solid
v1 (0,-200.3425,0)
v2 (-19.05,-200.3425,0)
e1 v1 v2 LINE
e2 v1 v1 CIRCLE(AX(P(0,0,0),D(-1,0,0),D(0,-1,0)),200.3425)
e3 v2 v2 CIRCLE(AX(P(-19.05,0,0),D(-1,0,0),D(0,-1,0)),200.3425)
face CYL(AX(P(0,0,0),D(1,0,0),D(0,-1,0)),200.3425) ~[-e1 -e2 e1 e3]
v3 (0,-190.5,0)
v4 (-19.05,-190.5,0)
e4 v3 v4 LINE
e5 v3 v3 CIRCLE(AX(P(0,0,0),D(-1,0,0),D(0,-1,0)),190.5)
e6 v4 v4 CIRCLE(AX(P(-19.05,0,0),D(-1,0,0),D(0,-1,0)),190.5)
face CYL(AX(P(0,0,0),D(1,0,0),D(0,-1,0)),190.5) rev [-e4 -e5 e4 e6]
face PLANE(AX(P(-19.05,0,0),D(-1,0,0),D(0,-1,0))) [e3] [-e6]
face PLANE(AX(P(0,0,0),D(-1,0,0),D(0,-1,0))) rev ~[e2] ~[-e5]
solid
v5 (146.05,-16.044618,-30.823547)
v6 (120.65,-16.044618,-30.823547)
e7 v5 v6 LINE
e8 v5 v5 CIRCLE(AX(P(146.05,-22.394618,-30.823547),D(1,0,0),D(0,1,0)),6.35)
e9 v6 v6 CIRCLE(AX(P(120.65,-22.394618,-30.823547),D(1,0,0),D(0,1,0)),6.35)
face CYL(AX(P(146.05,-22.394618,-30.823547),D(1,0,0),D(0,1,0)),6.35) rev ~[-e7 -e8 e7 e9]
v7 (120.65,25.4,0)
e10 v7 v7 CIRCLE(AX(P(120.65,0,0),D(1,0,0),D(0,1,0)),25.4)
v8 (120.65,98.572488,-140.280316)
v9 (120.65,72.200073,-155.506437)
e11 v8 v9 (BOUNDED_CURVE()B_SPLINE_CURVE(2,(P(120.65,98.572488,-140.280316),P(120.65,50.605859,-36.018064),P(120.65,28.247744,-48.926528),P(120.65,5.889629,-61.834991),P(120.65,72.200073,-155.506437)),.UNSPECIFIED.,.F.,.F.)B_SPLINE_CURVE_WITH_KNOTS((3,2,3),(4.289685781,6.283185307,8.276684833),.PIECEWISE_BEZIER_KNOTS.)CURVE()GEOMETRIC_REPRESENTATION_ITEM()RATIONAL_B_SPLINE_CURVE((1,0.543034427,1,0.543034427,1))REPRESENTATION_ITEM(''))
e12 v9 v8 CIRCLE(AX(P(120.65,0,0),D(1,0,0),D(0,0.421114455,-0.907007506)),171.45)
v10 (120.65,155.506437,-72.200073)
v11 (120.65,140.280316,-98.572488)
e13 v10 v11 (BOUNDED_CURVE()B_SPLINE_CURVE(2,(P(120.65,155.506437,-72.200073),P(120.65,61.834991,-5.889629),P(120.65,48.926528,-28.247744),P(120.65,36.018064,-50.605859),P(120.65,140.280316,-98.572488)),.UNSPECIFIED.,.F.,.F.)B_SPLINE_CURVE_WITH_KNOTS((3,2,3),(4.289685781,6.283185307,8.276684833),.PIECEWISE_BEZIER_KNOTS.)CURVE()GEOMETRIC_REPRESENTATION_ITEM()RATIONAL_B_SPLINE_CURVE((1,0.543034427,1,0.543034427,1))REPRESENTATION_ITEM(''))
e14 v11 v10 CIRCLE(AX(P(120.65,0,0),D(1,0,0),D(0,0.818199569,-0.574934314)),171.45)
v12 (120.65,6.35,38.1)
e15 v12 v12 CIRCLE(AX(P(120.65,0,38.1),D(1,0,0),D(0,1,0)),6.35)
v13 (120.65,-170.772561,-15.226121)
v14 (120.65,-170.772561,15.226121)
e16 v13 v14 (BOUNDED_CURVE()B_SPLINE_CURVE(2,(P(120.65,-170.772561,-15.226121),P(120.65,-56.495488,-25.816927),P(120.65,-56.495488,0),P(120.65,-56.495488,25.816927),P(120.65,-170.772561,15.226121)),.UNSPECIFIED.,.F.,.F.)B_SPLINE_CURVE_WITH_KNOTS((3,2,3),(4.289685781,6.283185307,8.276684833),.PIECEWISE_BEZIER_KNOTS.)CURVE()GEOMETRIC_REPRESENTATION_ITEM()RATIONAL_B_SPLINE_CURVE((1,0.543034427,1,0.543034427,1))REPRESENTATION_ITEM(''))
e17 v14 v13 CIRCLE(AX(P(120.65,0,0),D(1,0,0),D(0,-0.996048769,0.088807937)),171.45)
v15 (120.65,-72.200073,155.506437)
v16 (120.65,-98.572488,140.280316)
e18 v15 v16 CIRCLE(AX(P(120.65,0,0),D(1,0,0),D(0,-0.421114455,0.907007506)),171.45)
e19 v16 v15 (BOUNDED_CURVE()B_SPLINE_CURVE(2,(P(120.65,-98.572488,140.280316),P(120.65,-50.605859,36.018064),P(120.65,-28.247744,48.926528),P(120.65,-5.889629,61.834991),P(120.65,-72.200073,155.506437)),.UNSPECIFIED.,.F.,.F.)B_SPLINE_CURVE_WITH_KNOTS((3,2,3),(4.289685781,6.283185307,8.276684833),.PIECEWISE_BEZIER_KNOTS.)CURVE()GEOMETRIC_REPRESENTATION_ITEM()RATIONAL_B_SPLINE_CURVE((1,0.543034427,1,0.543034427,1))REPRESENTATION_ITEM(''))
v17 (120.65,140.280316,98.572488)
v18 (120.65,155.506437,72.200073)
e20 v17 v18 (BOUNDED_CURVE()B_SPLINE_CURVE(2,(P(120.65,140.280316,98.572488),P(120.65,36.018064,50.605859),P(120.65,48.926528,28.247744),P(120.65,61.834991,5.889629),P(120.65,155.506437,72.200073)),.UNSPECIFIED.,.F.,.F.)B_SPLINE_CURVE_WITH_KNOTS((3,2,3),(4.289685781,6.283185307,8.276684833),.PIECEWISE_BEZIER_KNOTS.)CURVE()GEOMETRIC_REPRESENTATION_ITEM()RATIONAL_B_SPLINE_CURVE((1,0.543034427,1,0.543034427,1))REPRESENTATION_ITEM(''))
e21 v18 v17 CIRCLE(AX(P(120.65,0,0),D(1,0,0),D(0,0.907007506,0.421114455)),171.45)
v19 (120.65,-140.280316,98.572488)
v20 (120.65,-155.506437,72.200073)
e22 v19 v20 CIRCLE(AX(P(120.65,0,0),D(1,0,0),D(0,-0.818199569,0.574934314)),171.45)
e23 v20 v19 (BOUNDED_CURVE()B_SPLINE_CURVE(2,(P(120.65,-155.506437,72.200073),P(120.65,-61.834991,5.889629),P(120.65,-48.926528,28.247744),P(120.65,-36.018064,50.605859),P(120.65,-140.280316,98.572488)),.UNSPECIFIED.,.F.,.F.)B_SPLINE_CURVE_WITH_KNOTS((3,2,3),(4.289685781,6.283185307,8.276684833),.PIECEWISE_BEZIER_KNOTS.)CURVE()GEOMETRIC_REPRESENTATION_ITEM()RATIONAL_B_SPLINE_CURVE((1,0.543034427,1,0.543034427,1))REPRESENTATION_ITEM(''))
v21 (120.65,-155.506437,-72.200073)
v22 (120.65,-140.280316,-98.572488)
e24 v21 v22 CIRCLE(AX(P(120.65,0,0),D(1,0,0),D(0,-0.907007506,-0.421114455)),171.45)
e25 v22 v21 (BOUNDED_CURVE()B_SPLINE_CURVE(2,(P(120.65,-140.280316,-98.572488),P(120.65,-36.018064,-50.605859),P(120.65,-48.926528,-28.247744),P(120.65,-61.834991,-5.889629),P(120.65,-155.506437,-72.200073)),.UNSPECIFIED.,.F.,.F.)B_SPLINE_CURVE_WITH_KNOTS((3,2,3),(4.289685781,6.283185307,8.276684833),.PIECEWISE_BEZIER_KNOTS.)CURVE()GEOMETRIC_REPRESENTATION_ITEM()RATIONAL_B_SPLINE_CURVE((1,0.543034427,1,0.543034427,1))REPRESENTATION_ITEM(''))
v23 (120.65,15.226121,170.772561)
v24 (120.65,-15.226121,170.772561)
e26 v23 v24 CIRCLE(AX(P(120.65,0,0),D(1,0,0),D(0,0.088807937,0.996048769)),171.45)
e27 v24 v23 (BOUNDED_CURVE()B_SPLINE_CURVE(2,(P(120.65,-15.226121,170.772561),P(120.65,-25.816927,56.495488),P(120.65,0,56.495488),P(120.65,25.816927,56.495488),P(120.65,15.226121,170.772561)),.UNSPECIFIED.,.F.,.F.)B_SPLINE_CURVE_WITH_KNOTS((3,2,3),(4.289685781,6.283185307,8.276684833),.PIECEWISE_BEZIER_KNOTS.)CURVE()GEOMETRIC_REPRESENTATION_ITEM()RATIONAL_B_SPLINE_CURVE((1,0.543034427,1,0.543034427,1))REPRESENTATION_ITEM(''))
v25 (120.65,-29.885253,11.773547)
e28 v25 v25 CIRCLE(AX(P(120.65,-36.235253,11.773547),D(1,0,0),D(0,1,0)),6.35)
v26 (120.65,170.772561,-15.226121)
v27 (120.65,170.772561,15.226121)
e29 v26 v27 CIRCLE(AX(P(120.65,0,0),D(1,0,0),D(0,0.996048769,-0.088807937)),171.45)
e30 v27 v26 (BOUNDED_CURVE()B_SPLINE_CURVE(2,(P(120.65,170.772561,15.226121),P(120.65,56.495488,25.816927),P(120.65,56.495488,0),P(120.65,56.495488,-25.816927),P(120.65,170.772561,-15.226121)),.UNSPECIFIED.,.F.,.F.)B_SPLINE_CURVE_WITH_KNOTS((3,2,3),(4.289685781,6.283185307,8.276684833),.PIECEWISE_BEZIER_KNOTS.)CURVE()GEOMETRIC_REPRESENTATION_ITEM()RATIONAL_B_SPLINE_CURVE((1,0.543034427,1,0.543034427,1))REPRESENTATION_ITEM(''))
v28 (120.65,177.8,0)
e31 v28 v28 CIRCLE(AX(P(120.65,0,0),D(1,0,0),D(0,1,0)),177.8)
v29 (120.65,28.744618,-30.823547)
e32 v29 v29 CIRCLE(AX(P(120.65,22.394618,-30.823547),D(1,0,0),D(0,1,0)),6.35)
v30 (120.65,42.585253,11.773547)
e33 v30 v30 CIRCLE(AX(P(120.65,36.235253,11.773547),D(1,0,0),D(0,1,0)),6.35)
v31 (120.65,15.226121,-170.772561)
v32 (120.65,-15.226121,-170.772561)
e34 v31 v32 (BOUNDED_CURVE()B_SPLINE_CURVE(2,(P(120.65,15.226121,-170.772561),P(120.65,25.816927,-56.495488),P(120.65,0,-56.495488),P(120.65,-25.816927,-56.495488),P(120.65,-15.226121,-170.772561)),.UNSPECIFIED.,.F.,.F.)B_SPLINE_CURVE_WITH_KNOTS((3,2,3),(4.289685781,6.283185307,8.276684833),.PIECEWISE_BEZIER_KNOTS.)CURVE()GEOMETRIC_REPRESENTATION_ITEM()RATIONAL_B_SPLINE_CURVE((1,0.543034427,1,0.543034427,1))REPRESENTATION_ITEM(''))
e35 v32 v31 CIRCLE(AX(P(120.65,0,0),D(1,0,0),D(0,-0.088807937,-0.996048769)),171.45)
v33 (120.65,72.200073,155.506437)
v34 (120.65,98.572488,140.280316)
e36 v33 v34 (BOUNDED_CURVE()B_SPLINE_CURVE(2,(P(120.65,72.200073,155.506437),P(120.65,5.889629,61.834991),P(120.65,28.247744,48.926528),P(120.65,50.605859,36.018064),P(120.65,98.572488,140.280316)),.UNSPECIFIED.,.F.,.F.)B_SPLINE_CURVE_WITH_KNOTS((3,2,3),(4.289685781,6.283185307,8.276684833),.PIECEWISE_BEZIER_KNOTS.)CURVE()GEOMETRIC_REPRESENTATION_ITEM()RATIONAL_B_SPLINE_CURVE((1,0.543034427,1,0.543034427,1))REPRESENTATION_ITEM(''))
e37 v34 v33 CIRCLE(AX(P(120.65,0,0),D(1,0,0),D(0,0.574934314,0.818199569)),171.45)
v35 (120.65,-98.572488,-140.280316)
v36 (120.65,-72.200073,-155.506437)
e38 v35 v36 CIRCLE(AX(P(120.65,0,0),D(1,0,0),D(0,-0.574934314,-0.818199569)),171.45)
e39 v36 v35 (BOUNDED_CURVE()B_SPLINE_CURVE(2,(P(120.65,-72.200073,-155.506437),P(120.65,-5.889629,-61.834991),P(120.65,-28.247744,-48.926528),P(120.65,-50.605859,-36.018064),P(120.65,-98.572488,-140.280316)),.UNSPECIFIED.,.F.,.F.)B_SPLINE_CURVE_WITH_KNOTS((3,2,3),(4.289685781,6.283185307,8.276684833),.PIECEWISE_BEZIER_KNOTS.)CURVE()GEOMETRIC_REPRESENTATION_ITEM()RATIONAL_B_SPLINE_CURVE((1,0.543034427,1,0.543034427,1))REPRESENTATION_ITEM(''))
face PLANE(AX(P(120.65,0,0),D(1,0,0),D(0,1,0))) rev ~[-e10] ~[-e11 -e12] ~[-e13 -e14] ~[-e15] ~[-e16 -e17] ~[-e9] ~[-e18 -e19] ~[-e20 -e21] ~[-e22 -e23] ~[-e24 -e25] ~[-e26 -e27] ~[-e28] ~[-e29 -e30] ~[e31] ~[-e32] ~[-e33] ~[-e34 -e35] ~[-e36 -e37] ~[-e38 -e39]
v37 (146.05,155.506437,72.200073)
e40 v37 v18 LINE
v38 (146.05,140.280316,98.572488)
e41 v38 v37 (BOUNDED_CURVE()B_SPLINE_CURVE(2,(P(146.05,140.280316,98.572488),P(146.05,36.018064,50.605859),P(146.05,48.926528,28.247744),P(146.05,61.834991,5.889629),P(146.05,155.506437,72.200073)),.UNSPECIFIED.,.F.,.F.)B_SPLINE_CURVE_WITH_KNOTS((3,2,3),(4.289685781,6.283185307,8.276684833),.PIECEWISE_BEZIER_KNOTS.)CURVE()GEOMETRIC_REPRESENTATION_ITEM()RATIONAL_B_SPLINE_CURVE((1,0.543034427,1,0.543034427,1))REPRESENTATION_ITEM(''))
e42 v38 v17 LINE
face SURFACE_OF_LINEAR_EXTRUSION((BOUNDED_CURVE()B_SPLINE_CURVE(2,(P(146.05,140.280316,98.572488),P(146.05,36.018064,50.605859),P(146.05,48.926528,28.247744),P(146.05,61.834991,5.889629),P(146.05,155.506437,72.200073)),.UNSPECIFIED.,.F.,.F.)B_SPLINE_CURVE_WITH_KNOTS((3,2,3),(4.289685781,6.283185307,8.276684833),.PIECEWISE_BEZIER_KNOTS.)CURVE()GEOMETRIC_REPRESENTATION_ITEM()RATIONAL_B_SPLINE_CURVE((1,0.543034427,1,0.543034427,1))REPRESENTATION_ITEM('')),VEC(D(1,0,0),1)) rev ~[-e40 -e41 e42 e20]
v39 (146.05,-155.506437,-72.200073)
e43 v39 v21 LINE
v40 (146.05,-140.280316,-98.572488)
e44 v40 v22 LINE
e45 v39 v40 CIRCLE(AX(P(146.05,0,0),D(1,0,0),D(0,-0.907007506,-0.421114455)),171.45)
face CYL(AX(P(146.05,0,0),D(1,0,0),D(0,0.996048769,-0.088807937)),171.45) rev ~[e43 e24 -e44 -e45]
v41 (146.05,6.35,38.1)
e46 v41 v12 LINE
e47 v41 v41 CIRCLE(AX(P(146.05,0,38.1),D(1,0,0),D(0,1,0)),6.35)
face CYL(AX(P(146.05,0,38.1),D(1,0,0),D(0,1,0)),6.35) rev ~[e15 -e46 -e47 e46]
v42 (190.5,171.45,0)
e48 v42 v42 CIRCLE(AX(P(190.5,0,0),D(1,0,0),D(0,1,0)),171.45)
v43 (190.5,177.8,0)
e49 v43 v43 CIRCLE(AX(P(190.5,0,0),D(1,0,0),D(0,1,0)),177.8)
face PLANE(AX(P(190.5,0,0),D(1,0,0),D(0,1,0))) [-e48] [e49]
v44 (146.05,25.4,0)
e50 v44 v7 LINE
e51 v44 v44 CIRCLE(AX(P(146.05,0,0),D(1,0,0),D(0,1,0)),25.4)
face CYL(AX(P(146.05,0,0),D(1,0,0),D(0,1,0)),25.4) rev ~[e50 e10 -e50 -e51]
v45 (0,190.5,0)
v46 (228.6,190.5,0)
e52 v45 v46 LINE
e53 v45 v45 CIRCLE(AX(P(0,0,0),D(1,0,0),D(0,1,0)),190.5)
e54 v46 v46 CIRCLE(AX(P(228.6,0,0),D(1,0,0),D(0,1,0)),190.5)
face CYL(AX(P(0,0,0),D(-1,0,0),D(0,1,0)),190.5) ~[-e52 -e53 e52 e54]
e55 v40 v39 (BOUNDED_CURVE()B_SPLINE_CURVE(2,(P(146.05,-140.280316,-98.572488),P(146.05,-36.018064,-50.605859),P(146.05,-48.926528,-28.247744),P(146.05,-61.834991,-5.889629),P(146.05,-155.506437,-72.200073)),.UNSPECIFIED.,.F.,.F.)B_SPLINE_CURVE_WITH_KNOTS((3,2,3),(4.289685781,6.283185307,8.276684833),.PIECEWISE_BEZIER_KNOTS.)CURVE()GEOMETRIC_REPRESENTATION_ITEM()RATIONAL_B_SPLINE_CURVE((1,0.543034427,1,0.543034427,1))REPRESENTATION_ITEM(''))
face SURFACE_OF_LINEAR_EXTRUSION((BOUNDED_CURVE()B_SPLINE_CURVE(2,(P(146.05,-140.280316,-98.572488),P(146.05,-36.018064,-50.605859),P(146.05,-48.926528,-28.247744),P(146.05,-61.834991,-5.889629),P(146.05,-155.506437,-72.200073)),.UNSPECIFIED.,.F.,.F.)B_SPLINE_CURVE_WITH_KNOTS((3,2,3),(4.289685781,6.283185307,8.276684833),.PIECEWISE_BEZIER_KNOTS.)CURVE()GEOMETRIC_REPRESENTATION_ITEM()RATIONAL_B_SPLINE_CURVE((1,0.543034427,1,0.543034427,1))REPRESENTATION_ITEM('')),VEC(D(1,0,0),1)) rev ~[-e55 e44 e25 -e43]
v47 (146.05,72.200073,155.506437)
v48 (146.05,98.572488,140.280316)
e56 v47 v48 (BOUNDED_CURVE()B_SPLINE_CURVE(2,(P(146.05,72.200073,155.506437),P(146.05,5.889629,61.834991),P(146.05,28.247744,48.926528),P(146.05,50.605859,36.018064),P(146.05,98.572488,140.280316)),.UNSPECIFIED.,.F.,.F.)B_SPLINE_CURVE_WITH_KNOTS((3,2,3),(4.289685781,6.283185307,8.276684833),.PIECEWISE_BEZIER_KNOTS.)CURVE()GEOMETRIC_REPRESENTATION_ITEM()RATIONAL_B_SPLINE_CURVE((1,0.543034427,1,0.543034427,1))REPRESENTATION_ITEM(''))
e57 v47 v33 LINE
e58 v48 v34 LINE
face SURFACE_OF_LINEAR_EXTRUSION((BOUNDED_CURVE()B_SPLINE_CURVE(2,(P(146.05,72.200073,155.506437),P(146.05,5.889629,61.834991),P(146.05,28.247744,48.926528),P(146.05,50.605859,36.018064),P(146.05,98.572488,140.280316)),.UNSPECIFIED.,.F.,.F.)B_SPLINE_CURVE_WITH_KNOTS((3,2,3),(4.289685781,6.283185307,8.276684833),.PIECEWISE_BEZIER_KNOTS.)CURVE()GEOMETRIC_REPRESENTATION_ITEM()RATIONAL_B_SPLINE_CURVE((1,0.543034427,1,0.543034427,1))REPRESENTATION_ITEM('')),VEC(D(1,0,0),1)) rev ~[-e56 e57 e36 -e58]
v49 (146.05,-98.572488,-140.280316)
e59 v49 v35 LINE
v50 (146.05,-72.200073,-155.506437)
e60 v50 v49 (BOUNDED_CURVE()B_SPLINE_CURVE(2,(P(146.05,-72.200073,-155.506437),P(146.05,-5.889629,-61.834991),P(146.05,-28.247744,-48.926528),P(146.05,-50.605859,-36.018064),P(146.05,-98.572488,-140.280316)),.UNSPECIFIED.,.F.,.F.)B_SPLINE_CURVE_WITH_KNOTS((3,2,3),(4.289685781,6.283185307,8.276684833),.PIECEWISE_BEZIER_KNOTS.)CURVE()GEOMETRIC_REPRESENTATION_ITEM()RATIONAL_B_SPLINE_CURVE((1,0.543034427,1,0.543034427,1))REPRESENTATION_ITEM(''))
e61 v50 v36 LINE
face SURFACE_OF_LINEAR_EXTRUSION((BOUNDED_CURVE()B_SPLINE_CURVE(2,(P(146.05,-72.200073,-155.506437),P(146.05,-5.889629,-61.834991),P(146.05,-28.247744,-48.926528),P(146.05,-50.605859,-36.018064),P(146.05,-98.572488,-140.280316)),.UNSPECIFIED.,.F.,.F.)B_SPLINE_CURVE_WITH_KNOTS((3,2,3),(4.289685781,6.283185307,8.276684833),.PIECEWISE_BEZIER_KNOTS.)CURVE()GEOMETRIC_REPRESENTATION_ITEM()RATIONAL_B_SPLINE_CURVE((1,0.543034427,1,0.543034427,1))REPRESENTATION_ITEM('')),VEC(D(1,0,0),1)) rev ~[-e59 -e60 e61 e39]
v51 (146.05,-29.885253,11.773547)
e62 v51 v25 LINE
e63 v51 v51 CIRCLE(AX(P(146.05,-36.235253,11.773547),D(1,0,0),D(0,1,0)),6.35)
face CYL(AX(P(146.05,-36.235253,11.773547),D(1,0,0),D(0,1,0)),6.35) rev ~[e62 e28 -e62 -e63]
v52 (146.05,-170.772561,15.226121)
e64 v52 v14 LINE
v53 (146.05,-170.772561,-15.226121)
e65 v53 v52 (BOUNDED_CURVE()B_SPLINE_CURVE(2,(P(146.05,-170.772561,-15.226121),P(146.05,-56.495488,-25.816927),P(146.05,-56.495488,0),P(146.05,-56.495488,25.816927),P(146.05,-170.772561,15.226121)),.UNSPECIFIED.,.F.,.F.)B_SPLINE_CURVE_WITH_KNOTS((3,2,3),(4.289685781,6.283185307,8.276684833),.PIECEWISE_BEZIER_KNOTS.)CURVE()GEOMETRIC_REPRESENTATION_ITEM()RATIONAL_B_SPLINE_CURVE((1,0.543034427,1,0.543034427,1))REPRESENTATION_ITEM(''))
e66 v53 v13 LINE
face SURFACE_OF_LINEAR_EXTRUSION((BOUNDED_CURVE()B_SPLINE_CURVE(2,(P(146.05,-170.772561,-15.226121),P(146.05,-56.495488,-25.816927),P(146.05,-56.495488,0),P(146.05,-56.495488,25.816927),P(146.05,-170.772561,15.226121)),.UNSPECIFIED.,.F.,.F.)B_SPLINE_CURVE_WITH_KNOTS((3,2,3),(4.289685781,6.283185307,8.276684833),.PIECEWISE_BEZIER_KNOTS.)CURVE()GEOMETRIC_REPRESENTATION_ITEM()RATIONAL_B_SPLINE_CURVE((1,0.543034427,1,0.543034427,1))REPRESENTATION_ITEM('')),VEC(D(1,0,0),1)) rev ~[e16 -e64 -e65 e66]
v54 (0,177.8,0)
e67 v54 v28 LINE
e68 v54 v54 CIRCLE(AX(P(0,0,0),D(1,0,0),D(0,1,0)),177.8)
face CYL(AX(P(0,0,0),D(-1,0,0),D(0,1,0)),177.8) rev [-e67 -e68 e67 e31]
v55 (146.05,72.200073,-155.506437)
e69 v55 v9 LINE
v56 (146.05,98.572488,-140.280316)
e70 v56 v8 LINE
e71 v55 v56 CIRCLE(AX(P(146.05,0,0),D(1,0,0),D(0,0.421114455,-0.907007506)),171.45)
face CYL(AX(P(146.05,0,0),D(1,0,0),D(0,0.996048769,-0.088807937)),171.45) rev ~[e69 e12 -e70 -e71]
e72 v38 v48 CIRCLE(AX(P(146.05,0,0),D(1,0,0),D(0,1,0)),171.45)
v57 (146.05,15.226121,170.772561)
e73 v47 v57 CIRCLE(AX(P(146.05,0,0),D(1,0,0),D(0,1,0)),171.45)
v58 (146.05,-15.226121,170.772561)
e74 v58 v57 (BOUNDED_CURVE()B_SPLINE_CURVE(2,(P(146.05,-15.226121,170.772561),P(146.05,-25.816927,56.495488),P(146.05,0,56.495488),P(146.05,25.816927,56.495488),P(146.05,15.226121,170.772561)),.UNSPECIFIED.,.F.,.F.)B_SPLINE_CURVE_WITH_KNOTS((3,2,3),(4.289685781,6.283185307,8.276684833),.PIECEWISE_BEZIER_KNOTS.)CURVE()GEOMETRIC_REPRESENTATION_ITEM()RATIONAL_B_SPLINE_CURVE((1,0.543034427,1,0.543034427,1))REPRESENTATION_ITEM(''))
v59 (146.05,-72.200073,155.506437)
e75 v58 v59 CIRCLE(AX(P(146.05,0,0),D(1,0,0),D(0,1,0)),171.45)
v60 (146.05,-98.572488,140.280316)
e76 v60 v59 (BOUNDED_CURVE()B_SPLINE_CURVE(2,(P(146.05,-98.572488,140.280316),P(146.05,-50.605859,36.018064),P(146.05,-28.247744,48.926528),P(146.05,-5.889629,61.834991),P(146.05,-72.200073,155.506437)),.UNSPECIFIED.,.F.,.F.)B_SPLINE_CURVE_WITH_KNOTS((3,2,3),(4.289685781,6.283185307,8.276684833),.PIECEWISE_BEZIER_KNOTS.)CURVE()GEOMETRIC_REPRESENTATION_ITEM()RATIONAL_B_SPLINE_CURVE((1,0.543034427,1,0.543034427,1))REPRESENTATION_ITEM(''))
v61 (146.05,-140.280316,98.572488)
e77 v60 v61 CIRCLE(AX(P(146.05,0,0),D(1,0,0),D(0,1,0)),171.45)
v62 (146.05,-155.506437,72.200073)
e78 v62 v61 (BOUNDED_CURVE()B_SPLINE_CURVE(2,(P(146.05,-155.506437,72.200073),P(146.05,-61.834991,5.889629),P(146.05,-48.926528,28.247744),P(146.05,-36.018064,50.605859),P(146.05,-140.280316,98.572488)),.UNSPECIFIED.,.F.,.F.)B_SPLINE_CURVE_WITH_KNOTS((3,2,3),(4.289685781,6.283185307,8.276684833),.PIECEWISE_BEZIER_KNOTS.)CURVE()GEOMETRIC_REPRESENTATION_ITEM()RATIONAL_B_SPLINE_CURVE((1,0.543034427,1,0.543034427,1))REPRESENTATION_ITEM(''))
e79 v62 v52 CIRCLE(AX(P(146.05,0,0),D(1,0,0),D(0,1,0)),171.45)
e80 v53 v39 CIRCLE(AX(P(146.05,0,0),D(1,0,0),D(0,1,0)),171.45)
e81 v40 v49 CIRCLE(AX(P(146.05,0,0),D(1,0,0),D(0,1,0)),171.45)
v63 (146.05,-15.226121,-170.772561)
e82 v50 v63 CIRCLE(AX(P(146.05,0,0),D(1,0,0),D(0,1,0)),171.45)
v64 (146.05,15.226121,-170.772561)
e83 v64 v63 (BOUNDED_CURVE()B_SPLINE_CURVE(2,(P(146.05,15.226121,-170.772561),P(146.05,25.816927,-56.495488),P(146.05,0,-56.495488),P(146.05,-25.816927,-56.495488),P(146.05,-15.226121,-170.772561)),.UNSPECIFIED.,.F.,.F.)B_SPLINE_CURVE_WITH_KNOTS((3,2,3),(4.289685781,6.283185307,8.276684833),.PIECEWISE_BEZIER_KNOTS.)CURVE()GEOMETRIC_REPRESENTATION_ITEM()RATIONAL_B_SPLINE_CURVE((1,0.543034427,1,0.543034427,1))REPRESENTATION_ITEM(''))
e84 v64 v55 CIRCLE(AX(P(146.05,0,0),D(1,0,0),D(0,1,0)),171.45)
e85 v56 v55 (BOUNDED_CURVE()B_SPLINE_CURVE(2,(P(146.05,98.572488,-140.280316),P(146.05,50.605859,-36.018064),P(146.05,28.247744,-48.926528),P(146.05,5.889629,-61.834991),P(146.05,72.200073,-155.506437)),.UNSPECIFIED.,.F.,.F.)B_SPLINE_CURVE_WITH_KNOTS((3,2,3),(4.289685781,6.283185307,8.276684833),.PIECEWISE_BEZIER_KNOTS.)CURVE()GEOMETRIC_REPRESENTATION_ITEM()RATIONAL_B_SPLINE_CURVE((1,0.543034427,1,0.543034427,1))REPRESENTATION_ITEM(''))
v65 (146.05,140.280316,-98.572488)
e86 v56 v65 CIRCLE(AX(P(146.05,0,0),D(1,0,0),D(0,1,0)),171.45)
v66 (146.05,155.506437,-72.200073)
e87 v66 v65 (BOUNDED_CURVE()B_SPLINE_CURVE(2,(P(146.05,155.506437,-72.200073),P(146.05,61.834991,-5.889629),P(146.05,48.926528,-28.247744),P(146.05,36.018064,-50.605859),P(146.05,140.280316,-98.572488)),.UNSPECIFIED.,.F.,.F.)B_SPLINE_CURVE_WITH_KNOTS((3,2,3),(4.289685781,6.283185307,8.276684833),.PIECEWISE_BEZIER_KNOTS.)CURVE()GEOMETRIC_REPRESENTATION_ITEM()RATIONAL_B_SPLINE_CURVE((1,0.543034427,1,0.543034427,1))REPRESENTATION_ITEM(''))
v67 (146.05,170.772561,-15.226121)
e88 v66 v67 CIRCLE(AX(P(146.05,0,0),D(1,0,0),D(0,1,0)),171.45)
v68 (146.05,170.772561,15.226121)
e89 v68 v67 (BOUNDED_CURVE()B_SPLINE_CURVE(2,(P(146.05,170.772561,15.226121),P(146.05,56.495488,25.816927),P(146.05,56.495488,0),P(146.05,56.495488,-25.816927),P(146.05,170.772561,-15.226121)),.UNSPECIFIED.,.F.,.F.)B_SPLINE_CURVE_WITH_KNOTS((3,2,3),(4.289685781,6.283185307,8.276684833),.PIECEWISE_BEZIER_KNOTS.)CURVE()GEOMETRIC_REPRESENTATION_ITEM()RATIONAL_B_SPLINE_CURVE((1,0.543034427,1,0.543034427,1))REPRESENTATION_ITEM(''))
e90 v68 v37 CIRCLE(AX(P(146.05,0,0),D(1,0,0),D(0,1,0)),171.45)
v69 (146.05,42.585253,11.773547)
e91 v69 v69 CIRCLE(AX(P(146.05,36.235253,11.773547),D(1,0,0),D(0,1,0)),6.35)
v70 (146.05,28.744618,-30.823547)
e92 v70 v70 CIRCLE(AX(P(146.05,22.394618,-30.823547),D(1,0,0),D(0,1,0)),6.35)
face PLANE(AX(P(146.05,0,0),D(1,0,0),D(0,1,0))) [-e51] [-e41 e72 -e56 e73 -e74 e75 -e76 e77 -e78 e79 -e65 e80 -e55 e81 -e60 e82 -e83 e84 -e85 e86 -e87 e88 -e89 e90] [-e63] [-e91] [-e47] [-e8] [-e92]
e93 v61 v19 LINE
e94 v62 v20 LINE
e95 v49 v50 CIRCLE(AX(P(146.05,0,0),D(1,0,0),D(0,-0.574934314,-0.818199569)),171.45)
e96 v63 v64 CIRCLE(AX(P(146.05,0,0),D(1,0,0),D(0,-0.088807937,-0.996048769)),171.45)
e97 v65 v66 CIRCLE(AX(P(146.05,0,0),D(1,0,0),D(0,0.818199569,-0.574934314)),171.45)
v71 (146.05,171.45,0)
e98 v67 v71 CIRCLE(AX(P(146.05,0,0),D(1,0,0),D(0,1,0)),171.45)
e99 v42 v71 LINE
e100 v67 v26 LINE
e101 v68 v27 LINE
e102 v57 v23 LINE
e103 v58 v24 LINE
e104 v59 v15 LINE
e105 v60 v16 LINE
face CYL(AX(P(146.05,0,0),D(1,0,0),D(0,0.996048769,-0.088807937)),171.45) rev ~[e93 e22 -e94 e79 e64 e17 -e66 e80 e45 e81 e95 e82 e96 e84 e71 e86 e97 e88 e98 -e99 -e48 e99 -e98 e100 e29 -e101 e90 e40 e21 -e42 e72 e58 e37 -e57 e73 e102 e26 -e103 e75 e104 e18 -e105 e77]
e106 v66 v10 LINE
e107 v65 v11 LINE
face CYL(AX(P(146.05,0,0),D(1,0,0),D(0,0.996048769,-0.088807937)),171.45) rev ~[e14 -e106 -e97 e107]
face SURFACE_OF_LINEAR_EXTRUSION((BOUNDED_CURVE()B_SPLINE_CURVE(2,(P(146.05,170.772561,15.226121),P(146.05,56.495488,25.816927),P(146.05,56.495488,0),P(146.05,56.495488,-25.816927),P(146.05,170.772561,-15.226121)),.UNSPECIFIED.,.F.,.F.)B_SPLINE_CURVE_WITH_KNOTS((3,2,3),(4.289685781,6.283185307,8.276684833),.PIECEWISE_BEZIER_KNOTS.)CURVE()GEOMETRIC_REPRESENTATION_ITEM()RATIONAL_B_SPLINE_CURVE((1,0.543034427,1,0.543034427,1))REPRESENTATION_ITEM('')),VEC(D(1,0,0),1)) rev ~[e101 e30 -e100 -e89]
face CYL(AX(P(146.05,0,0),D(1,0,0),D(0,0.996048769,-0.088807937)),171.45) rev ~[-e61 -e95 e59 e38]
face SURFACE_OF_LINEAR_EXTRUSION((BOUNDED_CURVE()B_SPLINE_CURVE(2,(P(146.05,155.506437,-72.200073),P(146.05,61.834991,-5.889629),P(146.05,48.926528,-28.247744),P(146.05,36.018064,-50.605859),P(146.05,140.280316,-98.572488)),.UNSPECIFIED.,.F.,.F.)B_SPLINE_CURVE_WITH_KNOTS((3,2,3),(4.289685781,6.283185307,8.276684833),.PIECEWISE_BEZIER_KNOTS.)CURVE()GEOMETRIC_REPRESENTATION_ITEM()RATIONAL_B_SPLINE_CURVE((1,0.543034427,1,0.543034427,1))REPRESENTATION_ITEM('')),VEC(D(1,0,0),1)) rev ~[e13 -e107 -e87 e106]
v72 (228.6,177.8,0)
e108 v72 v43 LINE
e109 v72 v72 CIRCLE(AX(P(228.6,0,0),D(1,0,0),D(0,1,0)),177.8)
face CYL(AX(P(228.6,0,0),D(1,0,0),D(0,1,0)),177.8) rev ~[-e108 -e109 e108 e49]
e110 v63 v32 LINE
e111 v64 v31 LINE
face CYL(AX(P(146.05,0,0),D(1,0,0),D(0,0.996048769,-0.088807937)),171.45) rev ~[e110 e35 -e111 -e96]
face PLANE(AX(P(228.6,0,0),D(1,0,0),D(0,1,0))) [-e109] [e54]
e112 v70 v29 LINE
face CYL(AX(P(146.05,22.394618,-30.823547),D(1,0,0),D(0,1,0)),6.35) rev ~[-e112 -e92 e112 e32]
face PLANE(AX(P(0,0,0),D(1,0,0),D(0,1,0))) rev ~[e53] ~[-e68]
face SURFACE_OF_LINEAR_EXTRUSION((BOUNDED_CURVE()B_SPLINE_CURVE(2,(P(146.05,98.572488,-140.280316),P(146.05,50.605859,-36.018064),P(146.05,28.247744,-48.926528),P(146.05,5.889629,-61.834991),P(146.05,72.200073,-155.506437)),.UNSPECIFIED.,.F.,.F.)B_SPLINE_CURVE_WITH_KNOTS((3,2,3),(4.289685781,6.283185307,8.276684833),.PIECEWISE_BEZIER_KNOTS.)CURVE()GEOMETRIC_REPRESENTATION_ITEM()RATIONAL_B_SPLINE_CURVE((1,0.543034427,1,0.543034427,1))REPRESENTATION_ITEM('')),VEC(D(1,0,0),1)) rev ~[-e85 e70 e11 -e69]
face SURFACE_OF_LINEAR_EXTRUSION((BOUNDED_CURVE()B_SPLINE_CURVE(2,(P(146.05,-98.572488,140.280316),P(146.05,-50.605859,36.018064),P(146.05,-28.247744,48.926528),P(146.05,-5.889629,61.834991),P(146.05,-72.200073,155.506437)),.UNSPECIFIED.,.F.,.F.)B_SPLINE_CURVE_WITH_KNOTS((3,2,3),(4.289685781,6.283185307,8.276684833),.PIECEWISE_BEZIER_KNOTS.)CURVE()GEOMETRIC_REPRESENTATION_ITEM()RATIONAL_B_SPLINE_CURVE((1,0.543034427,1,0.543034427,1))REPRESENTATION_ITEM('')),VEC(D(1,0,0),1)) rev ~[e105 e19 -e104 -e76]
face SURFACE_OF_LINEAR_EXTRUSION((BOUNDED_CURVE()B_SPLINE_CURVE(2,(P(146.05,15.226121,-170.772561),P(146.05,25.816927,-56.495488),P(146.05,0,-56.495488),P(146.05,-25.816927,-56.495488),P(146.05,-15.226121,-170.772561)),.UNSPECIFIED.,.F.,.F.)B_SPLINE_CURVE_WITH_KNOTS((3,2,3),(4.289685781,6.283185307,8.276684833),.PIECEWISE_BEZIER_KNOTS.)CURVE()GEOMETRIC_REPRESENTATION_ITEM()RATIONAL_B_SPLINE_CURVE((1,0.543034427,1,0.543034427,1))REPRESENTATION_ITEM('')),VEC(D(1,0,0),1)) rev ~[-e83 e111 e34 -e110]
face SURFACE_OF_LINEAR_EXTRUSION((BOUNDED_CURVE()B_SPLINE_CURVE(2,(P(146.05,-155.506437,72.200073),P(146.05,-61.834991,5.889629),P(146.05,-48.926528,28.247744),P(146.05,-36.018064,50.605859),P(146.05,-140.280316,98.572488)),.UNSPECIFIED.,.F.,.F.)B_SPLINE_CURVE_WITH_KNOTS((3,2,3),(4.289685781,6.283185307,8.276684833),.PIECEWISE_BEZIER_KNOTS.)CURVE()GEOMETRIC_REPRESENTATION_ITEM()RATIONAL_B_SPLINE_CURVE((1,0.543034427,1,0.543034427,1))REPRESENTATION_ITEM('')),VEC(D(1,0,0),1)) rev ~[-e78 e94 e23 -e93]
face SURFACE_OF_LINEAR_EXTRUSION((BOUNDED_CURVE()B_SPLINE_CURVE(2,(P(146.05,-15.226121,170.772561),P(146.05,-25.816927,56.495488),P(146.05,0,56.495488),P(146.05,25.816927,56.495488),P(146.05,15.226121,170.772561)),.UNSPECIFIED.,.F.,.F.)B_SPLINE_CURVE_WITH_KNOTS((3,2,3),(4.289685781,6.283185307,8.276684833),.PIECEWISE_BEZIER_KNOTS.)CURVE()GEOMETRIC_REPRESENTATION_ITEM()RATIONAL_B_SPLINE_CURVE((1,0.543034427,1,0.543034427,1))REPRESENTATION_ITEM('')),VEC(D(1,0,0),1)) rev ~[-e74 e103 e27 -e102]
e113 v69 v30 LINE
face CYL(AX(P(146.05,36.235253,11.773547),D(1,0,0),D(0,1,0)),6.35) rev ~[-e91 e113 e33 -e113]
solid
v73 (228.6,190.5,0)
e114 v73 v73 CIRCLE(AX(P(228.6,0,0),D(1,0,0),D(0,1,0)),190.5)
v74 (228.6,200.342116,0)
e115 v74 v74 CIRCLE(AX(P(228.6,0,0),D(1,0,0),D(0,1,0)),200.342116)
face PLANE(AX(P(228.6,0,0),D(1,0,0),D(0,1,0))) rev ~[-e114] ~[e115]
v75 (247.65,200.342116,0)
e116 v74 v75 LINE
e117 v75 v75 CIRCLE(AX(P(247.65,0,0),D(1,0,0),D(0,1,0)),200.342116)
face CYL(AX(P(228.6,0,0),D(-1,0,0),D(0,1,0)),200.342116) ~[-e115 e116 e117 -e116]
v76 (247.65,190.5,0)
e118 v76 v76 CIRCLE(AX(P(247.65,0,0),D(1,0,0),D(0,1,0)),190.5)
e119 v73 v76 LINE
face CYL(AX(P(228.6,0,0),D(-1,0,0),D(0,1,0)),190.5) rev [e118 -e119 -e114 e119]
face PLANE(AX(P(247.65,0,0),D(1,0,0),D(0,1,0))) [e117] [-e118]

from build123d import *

# Parameters (mm, degrees)
F0_R      = 190.5
F1_DEPTH  = 228.6
F2_R      = 200.3421162918
F2_R_2    = 190.5
F3_DEPTH  = 19.05
F4_R      = 177.8
F5_DEPTH  = 38.1
F6_R      = 171.45
F7_DEPTH  = 44.45
F8_R      = 200.3425
F8_R_2    = 190.5
F9_DEPTH  = 19.05
F11_R     = 177.8
F12_DEPTH = 120.65
F13_R     = 25.4
F14_DEPTH = 25.4
F15_R     = 6.35
F16_DEPTH = 25.4
F18_DEPTH = 25.4


with BuildPart() as f1:
    # F0 (on Right) → F1 (new body)
    with BuildSketch(Plane.YZ):
        Circle(F0_R)
    extrude(amount=F1_DEPTH)

    # F4 (on face) → F5 (cut)
    with BuildSketch(Plane.YZ.offset(228.6)):
        Circle(F4_R)
    extrude(amount=-F5_DEPTH, mode=Mode.SUBTRACT)

    # F6 (on face) → F7 (cut)
    with BuildSketch(Plane.YZ.offset(190.5)):
        Circle(F6_R)
    extrude(amount=-F7_DEPTH, mode=Mode.SUBTRACT)

    # F11 (on Right) → F12 (cut)
    with BuildSketch(Plane.YZ):
        Circle(F11_R)
    extrude(amount=F12_DEPTH, mode=Mode.SUBTRACT)

    # F13 (on face) → F14 (cut)
    with BuildSketch(Plane.YZ.offset(146.05)):
        Circle(F13_R)
    extrude(amount=-F14_DEPTH, mode=Mode.SUBTRACT)

    # F15 (on face) → F16 (cut)
    with BuildSketch(Plane.YZ.offset(146.05)):
        with Locations((0, 38.1)):
            Circle(F15_R)
        with Locations((-36.2352532708, 11.7735474857)):
            Circle(F15_R)
        with Locations((-22.3946181123, -30.8235474857)):
            Circle(F15_R)
        with Locations((22.3946181123, -30.8235474857)):
            Circle(F15_R)
        with Locations((36.2352532708, 11.7735474857)):
            Circle(F15_R)
    extrude(amount=-F16_DEPTH, mode=Mode.SUBTRACT)

    # F17 (on face) → F18 (cut)
    with BuildSketch(Plane.YZ.offset(146.05)):
        with BuildLine():
            add(Edge.make_bspline(
                [(-15.2261207957, 170.7725614539), (-25.8169270497, 56.49548769), (0, 56.49548769), (25.8169270497, 56.49548769), (15.2261207957, 170.7725614539)],
                knots=[4.2896857811, 4.2896857811, 4.2896857811, 6.2831853072, 6.2831853072, 8.2766848333, 8.2766848333, 8.2766848333], degree=2, weights=[1, 0.5430344273, 1, 0.5430344273, 1]))
            ThreePointArc((15.2261207957, 170.7725614539), (0, 171.45), (-15.2261207957, 170.7725614539))
        make_face()
        with BuildLine():
            ThreePointArc((-72.2000733168, 155.5064368862), (-85.725, 148.4800554788), (-98.5724881371, 140.2803160905))
            add(Edge.make_bspline(
                [(-98.5724881371, 140.2803160905), (-50.6058585177, 36.0180640139), (-28.247743845, 48.9265275387), (-5.8896291723, 61.8349910635), (-72.2000733168, 155.5064368862)],
                knots=[4.2896857811, 4.2896857811, 4.2896857811, 6.2831853072, 6.2831853072, 8.2766848333, 8.2766848333, 8.2766848333], degree=2, weights=[1, 0.5430344273, 1, 0.5430344273, 1]))
        make_face()
        with BuildLine():
            ThreePointArc((-140.2803160905, 98.5724881371), (-148.4800554788, 85.725), (-155.5064368862, 72.2000733168))
            add(Edge.make_bspline(
                [(-155.5064368862, 72.2000733168), (-61.8349910635, 5.8896291723), (-48.9265275387, 28.247743845), (-36.0180640139, 50.6058585177), (-140.2803160905, 98.5724881371)],
                knots=[4.2896857811, 4.2896857811, 4.2896857811, 6.2831853072, 6.2831853072, 8.2766848333, 8.2766848333, 8.2766848333], degree=2, weights=[1, 0.5430344273, 1, 0.5430344273, 1]))
        make_face()
        with BuildLine():
            ThreePointArc((-170.7725614539, 15.2261207957), (-171.45, 0), (-170.7725614539, -15.2261207957))
            add(Edge.make_bspline(
                [(-170.7725614539, -15.2261207957), (-56.49548769, -25.8169270497), (-56.49548769, 0), (-56.49548769, 25.8169270497), (-170.7725614539, 15.2261207957)],
                knots=[4.2896857811, 4.2896857811, 4.2896857811, 6.2831853072, 6.2831853072, 8.2766848333, 8.2766848333, 8.2766848333], degree=2, weights=[1, 0.5430344273, 1, 0.5430344273, 1]))
        make_face()
        with BuildLine():
            ThreePointArc((-155.5064368862, -72.2000733168), (-148.4800554788, -85.725), (-140.2803160905, -98.5724881371))
            add(Edge.make_bspline(
                [(-140.2803160905, -98.5724881371), (-36.0180640139, -50.6058585177), (-48.9265275387, -28.247743845), (-61.8349910635, -5.8896291723), (-155.5064368862, -72.2000733168)],
                knots=[4.2896857811, 4.2896857811, 4.2896857811, 6.2831853072, 6.2831853072, 8.2766848333, 8.2766848333, 8.2766848333], degree=2, weights=[1, 0.5430344273, 1, 0.5430344273, 1]))
        make_face()
        with BuildLine():
            ThreePointArc((-98.5724881371, -140.2803160905), (-85.725, -148.4800554788), (-72.2000733168, -155.5064368862))
            add(Edge.make_bspline(
                [(-72.2000733168, -155.5064368862), (-5.8896291723, -61.8349910635), (-28.247743845, -48.9265275387), (-50.6058585177, -36.0180640139), (-98.5724881371, -140.2803160905)],
                knots=[4.2896857811, 4.2896857811, 4.2896857811, 6.2831853072, 6.2831853072, 8.2766848333, 8.2766848333, 8.2766848333], degree=2, weights=[1, 0.5430344273, 1, 0.5430344273, 1]))
        make_face()
        with BuildLine():
            ThreePointArc((-15.2261207957, -170.7725614539), (0, -171.45), (15.2261207957, -170.7725614539))
            add(Edge.make_bspline(
                [(15.2261207957, -170.7725614539), (25.8169270497, -56.49548769), (0, -56.49548769), (-25.8169270497, -56.49548769), (-15.2261207957, -170.7725614539)],
                knots=[4.2896857811, 4.2896857811, 4.2896857811, 6.2831853072, 6.2831853072, 8.2766848333, 8.2766848333, 8.2766848333], degree=2, weights=[1, 0.5430344273, 1, 0.5430344273, 1]))
        make_face()
        with BuildLine():
            ThreePointArc((72.2000733168, -155.5064368862), (85.725, -148.4800554788), (98.5724881371, -140.2803160905))
            add(Edge.make_bspline(
                [(98.5724881371, -140.2803160905), (50.6058585177, -36.0180640139), (28.247743845, -48.9265275387), (5.8896291723, -61.8349910635), (72.2000733168, -155.5064368862)],
                knots=[4.2896857811, 4.2896857811, 4.2896857811, 6.2831853072, 6.2831853072, 8.2766848333, 8.2766848333, 8.2766848333], degree=2, weights=[1, 0.5430344273, 1, 0.5430344273, 1]))
        make_face()
        with BuildLine():
            ThreePointArc((140.2803160905, -98.5724881371), (148.4800554788, -85.725), (155.5064368862, -72.2000733168))
            add(Edge.make_bspline(
                [(155.5064368862, -72.2000733168), (61.8349910635, -5.8896291723), (48.9265275387, -28.247743845), (36.0180640139, -50.6058585177), (140.2803160905, -98.5724881371)],
                knots=[4.2896857811, 4.2896857811, 4.2896857811, 6.2831853072, 6.2831853072, 8.2766848333, 8.2766848333, 8.2766848333], degree=2, weights=[1, 0.5430344273, 1, 0.5430344273, 1]))
        make_face()
        with BuildLine():
            ThreePointArc((170.7725614539, -15.2261207957), (171.45, 0), (170.7725614539, 15.2261207957))
            add(Edge.make_bspline(
                [(170.7725614539, 15.2261207957), (56.49548769, 25.8169270497), (56.49548769, 0), (56.49548769, -25.8169270497), (170.7725614539, -15.2261207957)],
                knots=[4.2896857811, 4.2896857811, 4.2896857811, 6.2831853072, 6.2831853072, 8.2766848333, 8.2766848333, 8.2766848333], degree=2, weights=[1, 0.5430344273, 1, 0.5430344273, 1]))
        make_face()
        with BuildLine():
            ThreePointArc((155.5064368862, 72.2000733168), (148.4800554788, 85.725), (140.2803160905, 98.5724881371))
            add(Edge.make_bspline(
                [(140.2803160905, 98.5724881371), (36.0180640139, 50.6058585177), (48.9265275387, 28.247743845), (61.8349910635, 5.8896291723), (155.5064368862, 72.2000733168)],
                knots=[4.2896857811, 4.2896857811, 4.2896857811, 6.2831853072, 6.2831853072, 8.2766848333, 8.2766848333, 8.2766848333], degree=2, weights=[1, 0.5430344273, 1, 0.5430344273, 1]))
        make_face()
        with BuildLine():
            ThreePointArc((98.5724881371, 140.2803160905), (85.725, 148.4800554788), (72.2000733168, 155.5064368862))
            add(Edge.make_bspline(
                [(72.2000733168, 155.5064368862), (5.8896291723, 61.8349910635), (28.247743845, 48.9265275387), (50.6058585177, 36.0180640139), (98.5724881371, 140.2803160905)],
                knots=[4.2896857811, 4.2896857811, 4.2896857811, 6.2831853072, 6.2831853072, 8.2766848333, 8.2766848333, 8.2766848333], degree=2, weights=[1, 0.5430344273, 1, 0.5430344273, 1]))
        make_face()
    extrude(amount=-F18_DEPTH, mode=Mode.SUBTRACT)


with BuildPart() as f3:
    # F2 (on face) → F3 (new body)
    with BuildSketch(Plane.YZ.offset(228.6)):
        Circle(F2_R)
        Circle(F2_R_2, mode=Mode.SUBTRACT)
    extrude(amount=F3_DEPTH)


with BuildPart() as f9:
    # F8 (on face) → F9 (new body)
    with BuildSketch(Plane(origin=(0, 0, 0), x_dir=(0, -1, 0), z_dir=(-1, 0, 0))):
        Circle(F8_R)
        Circle(F8_R_2, mode=Mode.SUBTRACT)
    extrude(amount=F9_DEPTH)


solid = Compound([f1.part, f3.part, f9.part])
